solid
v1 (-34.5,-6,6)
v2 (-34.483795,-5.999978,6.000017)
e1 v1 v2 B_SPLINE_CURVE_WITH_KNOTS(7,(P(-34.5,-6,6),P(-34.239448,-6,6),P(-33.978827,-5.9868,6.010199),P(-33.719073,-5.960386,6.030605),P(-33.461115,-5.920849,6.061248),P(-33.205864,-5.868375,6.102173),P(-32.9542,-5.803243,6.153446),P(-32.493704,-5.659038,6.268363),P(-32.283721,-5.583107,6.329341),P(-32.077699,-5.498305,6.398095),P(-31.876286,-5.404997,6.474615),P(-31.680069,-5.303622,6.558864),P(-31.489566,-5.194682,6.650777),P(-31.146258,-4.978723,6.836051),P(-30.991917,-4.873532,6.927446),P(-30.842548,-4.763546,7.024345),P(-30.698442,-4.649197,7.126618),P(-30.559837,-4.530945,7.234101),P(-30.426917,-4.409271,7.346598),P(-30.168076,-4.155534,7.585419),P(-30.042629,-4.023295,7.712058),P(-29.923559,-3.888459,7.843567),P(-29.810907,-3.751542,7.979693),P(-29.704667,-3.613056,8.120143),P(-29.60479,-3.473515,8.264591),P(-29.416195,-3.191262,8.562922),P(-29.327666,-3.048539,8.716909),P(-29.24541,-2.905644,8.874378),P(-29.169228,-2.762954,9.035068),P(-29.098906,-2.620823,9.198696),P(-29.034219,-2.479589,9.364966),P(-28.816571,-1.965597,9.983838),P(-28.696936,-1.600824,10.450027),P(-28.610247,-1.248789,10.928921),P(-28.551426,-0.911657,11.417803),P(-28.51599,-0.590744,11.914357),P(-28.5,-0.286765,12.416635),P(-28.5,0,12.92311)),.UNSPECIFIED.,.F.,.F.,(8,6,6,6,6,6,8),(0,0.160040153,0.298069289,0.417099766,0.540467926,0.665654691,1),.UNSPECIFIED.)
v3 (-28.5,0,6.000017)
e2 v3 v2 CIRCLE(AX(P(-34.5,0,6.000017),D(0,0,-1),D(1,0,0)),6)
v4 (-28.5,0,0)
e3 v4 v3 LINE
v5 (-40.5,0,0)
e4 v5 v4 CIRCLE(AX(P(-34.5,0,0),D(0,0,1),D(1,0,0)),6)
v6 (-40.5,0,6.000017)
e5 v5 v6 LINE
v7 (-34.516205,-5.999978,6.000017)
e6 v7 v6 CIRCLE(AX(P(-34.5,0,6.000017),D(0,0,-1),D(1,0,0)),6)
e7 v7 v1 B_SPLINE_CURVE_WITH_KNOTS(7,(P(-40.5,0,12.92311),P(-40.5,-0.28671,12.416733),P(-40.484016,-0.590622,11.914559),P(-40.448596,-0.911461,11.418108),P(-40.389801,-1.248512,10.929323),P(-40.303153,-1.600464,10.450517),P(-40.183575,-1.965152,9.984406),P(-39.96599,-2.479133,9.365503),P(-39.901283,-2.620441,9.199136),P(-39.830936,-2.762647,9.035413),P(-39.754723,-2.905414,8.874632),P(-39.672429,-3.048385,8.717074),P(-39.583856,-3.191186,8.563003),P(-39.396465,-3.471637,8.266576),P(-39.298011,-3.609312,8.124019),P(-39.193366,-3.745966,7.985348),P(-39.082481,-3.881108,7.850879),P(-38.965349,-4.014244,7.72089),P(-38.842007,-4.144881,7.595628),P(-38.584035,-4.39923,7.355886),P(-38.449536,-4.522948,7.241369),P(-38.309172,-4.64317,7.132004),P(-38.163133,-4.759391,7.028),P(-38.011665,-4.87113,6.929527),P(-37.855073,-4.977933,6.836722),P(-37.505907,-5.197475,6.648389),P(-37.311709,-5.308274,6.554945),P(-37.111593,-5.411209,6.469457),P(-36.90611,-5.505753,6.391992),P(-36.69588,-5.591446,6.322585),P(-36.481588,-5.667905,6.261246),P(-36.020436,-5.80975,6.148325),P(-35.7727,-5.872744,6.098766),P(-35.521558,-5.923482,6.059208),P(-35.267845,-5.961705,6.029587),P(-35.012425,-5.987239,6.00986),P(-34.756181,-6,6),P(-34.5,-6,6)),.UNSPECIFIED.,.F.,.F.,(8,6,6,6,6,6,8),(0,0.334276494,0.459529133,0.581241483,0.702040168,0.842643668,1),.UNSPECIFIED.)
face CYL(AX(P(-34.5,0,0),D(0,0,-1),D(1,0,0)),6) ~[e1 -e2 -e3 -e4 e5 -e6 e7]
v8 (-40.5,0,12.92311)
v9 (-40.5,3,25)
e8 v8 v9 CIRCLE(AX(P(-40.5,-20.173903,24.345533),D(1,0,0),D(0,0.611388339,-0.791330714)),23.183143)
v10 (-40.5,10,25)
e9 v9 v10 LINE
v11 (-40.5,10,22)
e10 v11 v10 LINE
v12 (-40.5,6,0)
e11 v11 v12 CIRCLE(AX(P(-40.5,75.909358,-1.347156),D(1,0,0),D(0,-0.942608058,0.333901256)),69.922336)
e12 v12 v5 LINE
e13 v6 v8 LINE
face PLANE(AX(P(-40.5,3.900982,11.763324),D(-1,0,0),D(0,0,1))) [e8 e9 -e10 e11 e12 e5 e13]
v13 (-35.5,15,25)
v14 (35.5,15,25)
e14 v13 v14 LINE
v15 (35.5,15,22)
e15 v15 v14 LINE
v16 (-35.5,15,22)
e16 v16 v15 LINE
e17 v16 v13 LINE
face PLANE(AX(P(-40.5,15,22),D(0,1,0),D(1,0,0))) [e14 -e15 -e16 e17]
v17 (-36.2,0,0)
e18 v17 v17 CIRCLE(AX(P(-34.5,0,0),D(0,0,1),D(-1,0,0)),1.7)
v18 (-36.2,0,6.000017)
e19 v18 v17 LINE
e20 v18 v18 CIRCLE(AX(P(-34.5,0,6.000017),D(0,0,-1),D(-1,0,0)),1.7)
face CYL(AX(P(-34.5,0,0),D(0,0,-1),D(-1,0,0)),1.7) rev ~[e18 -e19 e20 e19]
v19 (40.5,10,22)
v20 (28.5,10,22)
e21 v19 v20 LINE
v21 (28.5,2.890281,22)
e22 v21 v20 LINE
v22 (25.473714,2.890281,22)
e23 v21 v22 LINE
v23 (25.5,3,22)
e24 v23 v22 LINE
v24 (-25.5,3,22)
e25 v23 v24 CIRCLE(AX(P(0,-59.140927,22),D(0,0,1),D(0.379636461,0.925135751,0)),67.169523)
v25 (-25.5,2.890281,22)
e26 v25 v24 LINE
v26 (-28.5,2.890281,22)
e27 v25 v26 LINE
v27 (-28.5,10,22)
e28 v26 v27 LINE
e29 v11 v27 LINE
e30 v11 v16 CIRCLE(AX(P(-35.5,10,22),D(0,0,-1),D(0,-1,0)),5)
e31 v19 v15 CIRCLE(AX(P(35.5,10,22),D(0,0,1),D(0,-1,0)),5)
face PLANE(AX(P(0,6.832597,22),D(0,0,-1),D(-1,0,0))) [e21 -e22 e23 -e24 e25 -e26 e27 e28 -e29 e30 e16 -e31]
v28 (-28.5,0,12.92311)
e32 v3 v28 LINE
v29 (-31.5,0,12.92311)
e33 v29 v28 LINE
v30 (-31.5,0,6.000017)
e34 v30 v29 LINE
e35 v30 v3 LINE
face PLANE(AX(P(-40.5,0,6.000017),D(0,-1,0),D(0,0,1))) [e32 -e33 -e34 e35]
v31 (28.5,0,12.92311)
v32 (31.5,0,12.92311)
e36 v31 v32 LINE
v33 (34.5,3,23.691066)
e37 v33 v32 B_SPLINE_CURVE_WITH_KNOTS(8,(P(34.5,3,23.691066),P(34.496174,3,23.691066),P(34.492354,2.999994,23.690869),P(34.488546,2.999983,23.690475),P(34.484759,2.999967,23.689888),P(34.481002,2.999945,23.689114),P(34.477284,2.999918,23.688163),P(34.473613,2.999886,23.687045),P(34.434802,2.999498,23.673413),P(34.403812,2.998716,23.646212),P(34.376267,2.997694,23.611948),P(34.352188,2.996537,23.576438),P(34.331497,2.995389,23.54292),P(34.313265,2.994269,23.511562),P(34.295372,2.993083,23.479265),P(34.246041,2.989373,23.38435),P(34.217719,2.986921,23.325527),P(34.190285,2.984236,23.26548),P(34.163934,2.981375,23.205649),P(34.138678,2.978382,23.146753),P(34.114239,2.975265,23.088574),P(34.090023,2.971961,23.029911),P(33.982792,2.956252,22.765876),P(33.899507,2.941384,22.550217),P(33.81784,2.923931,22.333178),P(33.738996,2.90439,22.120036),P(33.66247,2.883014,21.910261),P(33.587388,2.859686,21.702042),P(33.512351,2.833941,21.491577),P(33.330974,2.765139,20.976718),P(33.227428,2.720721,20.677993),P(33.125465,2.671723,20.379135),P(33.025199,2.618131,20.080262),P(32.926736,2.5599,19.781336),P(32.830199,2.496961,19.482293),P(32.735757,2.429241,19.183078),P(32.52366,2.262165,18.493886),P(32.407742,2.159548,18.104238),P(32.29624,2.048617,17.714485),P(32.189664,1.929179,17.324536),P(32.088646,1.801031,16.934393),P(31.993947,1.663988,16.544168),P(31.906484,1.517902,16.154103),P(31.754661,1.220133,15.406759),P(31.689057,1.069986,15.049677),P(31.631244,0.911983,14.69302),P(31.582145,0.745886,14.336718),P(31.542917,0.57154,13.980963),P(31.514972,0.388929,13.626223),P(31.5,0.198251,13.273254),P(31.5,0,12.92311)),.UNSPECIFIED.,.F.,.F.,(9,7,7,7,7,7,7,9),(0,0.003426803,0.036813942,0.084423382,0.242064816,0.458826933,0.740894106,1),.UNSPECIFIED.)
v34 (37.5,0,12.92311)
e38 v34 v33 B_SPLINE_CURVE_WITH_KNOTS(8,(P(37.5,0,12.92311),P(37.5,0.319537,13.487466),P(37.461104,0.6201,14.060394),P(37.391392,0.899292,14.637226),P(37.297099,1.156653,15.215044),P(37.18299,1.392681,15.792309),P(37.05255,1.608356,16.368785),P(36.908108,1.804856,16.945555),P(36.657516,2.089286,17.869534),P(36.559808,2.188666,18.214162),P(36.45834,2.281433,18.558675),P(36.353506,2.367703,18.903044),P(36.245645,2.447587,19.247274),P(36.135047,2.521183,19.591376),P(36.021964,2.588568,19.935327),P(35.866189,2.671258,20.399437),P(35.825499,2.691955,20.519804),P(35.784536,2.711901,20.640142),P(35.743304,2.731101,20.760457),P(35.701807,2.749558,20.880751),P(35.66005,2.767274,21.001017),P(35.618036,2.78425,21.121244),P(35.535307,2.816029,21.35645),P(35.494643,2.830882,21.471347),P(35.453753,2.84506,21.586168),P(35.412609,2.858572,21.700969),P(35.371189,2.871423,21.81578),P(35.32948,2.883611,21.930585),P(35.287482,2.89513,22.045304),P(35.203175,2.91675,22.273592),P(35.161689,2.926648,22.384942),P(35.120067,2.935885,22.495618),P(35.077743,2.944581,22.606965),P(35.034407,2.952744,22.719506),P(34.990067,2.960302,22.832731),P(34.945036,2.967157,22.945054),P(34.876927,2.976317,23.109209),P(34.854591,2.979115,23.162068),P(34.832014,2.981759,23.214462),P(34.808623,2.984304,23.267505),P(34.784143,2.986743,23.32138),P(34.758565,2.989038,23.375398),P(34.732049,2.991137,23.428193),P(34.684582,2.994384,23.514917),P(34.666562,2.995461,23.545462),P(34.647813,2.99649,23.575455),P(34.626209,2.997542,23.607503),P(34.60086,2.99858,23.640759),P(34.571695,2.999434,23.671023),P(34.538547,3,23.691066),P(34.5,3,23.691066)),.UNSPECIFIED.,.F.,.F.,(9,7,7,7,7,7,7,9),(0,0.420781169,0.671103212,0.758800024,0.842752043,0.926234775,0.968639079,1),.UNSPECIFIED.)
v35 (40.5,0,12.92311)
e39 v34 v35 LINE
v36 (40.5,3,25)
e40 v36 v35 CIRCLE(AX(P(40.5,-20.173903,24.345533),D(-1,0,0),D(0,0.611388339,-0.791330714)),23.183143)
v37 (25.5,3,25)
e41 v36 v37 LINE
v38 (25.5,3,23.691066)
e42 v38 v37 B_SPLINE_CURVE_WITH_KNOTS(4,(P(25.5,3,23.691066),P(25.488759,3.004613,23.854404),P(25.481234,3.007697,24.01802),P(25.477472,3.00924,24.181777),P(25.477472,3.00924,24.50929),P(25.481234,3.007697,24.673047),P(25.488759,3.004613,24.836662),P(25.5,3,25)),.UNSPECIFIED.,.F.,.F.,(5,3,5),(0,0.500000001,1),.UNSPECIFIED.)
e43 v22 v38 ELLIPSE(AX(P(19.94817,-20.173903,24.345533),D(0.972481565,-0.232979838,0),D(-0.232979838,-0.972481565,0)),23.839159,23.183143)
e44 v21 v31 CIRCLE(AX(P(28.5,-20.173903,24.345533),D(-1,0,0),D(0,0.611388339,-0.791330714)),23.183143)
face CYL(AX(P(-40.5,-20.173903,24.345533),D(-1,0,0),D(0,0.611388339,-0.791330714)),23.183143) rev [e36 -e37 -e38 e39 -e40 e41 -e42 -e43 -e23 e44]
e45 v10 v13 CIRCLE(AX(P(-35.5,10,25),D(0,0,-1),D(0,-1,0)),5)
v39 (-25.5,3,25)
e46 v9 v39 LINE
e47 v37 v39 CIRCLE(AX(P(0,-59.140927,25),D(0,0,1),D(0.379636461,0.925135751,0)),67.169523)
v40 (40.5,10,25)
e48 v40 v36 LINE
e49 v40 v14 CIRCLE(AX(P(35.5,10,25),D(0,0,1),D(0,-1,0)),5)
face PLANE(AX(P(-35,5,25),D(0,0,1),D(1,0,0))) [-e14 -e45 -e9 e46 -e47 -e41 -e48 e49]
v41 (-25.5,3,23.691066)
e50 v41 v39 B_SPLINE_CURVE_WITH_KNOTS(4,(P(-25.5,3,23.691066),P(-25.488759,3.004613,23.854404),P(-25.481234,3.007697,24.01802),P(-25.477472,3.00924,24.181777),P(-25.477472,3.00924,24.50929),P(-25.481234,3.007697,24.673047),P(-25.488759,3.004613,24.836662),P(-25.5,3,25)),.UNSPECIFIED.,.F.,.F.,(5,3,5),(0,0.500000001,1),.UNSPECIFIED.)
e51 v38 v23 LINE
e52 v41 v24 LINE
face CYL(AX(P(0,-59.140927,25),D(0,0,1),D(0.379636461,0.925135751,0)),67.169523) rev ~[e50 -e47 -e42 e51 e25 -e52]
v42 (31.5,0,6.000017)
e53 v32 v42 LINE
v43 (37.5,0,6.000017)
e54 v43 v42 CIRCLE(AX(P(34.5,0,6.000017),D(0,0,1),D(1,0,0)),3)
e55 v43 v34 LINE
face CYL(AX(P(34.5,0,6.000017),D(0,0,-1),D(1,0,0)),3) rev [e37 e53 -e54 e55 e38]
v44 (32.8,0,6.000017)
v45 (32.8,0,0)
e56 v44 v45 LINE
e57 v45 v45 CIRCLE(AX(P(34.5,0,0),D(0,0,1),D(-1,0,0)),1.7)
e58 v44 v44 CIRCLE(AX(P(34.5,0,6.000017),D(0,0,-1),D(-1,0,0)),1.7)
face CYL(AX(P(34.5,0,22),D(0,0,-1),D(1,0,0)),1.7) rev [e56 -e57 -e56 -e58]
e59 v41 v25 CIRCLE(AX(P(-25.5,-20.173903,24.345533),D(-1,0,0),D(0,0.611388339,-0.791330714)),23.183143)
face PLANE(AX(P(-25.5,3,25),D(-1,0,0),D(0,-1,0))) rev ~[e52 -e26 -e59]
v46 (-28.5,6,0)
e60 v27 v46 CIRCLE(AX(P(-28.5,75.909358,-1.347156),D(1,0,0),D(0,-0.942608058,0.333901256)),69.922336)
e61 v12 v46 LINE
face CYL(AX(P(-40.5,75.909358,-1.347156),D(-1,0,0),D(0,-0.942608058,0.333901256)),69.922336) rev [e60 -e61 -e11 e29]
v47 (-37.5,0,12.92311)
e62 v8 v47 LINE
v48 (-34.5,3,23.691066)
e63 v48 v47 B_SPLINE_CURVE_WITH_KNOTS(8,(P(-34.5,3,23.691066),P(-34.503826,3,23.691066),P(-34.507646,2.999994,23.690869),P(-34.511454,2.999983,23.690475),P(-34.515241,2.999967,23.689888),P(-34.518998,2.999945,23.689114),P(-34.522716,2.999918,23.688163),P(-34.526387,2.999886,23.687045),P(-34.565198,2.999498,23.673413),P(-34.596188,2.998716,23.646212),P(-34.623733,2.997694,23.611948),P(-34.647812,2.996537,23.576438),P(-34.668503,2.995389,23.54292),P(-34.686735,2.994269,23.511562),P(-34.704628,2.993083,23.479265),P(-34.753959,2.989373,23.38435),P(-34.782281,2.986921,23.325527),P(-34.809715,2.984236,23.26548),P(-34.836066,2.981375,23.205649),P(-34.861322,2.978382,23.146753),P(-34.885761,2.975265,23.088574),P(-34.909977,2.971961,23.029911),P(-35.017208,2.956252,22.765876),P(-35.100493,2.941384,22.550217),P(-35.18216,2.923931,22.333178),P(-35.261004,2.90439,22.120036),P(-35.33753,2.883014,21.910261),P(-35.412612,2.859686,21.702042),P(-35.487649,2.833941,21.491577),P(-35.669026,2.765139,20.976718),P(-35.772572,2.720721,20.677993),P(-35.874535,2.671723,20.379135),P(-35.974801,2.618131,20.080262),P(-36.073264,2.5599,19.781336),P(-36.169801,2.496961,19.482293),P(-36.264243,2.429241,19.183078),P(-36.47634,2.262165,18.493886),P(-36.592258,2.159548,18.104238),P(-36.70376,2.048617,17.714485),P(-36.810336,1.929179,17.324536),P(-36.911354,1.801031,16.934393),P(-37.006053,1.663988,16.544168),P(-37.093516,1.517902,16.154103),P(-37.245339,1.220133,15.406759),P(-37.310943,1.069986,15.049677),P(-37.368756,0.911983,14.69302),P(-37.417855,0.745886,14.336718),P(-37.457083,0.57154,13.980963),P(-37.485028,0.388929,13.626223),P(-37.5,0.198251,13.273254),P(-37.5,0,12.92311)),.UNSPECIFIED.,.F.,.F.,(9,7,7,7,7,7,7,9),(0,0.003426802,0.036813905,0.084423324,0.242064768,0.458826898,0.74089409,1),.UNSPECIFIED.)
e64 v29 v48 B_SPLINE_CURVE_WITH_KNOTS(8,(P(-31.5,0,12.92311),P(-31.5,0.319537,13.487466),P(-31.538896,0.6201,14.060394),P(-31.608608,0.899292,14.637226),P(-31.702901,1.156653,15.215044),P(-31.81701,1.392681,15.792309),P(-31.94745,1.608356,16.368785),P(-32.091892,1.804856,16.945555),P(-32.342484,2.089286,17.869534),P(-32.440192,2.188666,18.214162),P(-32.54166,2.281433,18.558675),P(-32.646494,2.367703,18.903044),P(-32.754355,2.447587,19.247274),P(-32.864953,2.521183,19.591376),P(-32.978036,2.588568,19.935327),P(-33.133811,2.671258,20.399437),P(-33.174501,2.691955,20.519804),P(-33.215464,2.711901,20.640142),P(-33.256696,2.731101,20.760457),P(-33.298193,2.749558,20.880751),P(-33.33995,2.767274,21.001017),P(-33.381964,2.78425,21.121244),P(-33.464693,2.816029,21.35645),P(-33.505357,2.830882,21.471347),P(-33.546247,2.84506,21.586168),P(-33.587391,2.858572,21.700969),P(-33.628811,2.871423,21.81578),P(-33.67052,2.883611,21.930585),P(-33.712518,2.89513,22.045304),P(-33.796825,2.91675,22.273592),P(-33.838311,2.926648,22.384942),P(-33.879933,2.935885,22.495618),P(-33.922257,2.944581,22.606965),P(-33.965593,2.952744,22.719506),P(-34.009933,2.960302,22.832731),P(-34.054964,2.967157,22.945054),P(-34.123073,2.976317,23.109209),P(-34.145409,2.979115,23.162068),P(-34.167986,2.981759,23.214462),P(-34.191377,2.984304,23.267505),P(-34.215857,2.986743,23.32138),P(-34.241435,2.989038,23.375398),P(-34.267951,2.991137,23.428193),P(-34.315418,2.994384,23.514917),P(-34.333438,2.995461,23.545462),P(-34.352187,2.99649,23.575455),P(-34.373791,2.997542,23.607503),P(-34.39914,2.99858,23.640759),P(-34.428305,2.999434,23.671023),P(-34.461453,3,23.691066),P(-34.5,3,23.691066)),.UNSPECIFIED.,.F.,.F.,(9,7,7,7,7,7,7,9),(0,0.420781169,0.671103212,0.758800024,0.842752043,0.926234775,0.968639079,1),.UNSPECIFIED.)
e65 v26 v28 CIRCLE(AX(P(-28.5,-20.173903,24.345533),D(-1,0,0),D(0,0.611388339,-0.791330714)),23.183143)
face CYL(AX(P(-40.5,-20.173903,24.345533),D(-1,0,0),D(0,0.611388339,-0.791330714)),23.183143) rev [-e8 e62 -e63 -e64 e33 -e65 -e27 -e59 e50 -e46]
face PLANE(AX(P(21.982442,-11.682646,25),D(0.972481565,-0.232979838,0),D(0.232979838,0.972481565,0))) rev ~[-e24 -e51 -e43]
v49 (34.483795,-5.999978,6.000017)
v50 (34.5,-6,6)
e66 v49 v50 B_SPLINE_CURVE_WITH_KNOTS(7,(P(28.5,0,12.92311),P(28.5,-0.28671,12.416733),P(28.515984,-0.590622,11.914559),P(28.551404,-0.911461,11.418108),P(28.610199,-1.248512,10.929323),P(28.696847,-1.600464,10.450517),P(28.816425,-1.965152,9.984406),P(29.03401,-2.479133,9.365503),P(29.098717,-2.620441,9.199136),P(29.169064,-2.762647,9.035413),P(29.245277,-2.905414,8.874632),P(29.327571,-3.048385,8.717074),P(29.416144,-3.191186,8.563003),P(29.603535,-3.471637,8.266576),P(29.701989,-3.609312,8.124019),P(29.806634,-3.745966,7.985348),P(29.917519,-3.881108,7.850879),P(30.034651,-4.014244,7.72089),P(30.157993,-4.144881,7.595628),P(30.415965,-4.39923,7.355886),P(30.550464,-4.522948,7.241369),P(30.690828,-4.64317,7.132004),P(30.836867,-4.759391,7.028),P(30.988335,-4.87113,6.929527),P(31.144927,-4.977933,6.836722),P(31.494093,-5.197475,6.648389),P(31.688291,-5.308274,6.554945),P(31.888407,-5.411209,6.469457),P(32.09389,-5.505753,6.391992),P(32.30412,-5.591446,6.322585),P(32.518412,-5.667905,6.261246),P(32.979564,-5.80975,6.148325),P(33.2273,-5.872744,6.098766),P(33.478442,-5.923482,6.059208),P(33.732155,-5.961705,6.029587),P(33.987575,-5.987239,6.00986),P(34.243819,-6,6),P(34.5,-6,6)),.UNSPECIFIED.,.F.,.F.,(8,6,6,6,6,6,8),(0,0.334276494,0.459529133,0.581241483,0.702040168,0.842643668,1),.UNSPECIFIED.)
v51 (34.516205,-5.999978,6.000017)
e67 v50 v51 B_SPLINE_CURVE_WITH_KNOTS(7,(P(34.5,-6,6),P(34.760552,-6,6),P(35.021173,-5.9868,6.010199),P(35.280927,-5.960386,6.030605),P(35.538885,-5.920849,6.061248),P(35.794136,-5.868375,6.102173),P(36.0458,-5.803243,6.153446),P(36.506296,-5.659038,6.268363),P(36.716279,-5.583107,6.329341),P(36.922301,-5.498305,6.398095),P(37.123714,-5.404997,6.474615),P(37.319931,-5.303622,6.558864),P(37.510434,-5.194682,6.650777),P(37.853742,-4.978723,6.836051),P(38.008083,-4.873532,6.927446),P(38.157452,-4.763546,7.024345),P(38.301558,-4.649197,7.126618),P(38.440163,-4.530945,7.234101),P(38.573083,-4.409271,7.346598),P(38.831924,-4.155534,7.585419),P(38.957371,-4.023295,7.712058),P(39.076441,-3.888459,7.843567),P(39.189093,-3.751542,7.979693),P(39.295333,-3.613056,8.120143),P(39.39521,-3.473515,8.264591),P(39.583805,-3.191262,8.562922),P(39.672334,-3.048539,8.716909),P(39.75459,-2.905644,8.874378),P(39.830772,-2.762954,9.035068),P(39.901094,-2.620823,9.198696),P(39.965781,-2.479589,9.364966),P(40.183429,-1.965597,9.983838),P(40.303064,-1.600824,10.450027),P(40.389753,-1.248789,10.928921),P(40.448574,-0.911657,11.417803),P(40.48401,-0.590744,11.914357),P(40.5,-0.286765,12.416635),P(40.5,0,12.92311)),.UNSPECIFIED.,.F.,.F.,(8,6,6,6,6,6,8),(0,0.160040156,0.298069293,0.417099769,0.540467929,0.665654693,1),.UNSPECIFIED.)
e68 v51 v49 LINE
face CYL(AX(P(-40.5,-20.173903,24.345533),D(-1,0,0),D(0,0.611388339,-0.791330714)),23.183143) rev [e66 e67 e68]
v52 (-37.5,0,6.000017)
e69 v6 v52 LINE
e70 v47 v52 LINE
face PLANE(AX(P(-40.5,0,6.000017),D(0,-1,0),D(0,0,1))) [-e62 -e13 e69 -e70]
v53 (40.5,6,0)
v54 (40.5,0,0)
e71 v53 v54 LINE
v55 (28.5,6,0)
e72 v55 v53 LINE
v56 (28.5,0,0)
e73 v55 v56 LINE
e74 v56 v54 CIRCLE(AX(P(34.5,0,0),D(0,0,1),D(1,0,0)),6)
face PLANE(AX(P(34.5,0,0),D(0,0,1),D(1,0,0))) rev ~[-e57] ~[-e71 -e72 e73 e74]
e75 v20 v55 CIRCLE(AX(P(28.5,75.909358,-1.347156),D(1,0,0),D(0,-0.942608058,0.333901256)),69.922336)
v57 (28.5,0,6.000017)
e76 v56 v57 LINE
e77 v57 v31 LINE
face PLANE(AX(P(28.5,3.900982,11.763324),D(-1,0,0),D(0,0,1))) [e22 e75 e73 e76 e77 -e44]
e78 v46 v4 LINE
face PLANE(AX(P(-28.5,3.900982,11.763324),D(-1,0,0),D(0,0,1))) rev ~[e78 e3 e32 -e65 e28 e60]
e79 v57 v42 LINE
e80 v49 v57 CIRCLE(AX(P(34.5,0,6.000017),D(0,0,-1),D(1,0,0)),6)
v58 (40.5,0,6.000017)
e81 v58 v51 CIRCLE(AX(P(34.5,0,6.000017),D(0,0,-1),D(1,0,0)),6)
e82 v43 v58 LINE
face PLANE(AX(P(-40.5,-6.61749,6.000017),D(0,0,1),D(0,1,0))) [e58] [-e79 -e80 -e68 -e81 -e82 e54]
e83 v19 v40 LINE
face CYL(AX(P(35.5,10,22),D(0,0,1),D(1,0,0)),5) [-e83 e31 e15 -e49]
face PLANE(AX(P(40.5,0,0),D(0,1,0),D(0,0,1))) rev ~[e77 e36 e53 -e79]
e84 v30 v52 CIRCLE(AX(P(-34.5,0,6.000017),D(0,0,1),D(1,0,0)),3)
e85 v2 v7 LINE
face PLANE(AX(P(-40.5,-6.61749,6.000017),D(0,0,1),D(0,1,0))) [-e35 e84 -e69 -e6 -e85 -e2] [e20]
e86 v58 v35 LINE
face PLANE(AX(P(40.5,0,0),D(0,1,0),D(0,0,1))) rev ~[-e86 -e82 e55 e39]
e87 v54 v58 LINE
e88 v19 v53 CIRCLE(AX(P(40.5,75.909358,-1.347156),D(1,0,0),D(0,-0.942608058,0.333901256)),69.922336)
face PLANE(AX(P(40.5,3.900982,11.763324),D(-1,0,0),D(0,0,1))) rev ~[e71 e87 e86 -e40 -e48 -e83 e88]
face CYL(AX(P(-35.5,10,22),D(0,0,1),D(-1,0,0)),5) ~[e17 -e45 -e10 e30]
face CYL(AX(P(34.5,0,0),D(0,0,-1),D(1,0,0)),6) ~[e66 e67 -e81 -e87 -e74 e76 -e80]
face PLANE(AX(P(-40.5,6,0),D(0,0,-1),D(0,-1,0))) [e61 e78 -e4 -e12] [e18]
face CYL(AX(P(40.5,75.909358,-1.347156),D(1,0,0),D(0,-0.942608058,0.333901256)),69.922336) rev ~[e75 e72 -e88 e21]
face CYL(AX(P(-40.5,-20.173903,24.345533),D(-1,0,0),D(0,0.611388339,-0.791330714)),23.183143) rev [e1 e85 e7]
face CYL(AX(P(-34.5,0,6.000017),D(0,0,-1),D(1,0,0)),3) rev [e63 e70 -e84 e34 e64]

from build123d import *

# Parameters (mm, degrees)
IZIM1_R                       = 6
IZIM1_R_2                     = 1.7
Y_KSEKLIK_EKSTR_ZYON1_DEPTH   = 22
Y_KSEKLIK_EKSTR_ZYON1_2_DEPTH = 22
IZIM2_R                       = 1.7
Y_KSEKLIK_EKSTR_ZYON2_DEPTH   = 3
RADYUS2_R                     = 5
IZIM4_R                       = 1.6
KES_EKSTR_ZYON1_DEPTH         = 10
Y_KSEKLIK_EKSTR_ZYON5_DEPTH   = 12
Y_KSEKLIK_EKSTR_ZYON6_DEPTH   = 12
KES_EKSTR_ZYON2_DEPTH         = 97
IZIM10_W                      = 6.92309327
IZIM10_H                      = 6.61748972
KES_EKSTR_ZYON3_DEPTH         = 97
IZIM11_R                      = 3
KES_EKSTR_ZYON4_DEPTH         = 97
IZIM12_R                      = 1.6
Y_KSEKLIK_EKSTR_ZYON8_DEPTH   = 10
IZIM13_R                      = 1.7
KES_EKSTR_ZYON5_DEPTH         = 10
KES_EKSTR_ZYON6_DEPTH         = 10


with BuildPart() as part:
    # Çizim1 → Yükseklik-Ekstrüzyon1 (new body)
    with BuildSketch(Plane.XY):
        with Locations((34.5, 0)):
            Circle(IZIM1_R)
        with Locations((34.5, 0)):
            Circle(IZIM1_R_2, mode=Mode.SUBTRACT)
    extrude(amount=Y_KSEKLIK_EKSTR_ZYON1_DEPTH)



with BuildPart() as body_2:
    # Çizim1 → Y_kseklik-Ekstr_zyon1 2 (new body)
    with BuildSketch(Plane.XY):
        with Locations((-34.5, 0)):
            Circle(IZIM1_R)
        with Locations((-34.5, 0)):
            Circle(IZIM1_R_2, mode=Mode.SUBTRACT)
    extrude(amount=Y_KSEKLIK_EKSTR_ZYON1_2_DEPTH)


with BuildPart() as part_1:
    add(part.part)

    add(body_2.part)  # Yükseklik-Ekstrüzyon2 merges body 2
    # Çizim2 → Yükseklik-Ekstrüzyon2 (add)
    with BuildSketch(Plane.XY.offset(22)):
        with BuildLine():
            Line((-40.5, 0), (-40.5, 10))
            Line((-40.5, 10), (-40.5, 15))
            Line((-40.5, 15), (40.5, 15))
            Line((40.5, 15), (40.5, 10))
            Line((40.5, 10), (40.5, 0))
            ThreePointArc((40.5, 0), (37.400947284, -5.252095282), (31.305165048, -5.078683848))
            ThreePointArc((31.305165048, -5.078683848), (23.833029749, -2.135860906), (16.017952, -0.287193122))
            ThreePointArc((16.017952, -0.287193122), (8.530102356, 4.184082865), (0, 6))
            ThreePointArc((0, 6), (-8.530102356, 4.184082865), (-16.017952, -0.287193122))
            ThreePointArc((-16.017952, -0.287193122), (-23.833029749, -2.135860906), (-31.305165048, -5.078683848))
            ThreePointArc((-31.305165048, -5.078683848), (-37.400947284, -5.252095282), (-40.5, 0))
        make_face()
        with Locations((-34.5, 0)):
            Circle(IZIM2_R, mode=Mode.SUBTRACT)
        with Locations((34.5, 0)):
            Circle(IZIM2_R, mode=Mode.SUBTRACT)
    extrude(amount=Y_KSEKLIK_EKSTR_ZYON2_DEPTH)

    # Radyus2
    radyus2_edges = [part_1.edges().sort_by_distance(p)[0] for p in [
        (40.5, 15, 23.5),
        (-40.5, 15, 23.5),
    ]]
    fillet(radyus2_edges, radius=RADYUS2_R)

    # Çizim4 → Kes-Ekstrüzyon1 (cut)
    with BuildSketch(Plane.XY.offset(25)):
        with Locations((-35, 5)):
            Circle(IZIM4_R)
        with Locations((35, 5)):
            Circle(IZIM4_R)
    extrude(amount=-KES_EKSTR_ZYON1_DEPTH, mode=Mode.SUBTRACT)

    # Çizim5 → Yükseklik-Ekstrüzyon5 (add)
    with BuildSketch(Plane.ZY.offset(40.5)):
        with BuildLine():
            Line((0, 6), (0, 0))
            Line((0, 0), (22, 0))
            Line((22, 0), (22, 10))
            ThreePointArc((22, 10), (11.160931836, 7.114874904), (0, 6))
        make_face()
    extrude(amount=-Y_KSEKLIK_EKSTR_ZYON5_DEPTH)

    # Çizim6 → Yükseklik-Ekstrüzyon6 (add)
    with BuildSketch(Plane(origin=(40.5, 0, 0), x_dir=(0, 0, -1), z_dir=(1, 0, 0))):
        with BuildLine():
            Line((-22, 0), (-22, 10))
            ThreePointArc((-22, 10), (-11.160931836, 7.114874904), (0, 6))
            Line((0, 6), (0, 0))
            Line((0, 0), (-22, 0))
        make_face()
    extrude(amount=-Y_KSEKLIK_EKSTR_ZYON6_DEPTH)

    # Çizim9 → Kes-Ekstrüzyon2 (cut)
    with BuildSketch(Plane.ZY.offset(40.5)):
        with BuildLine():
            Line((25, 3), (25, -6.889643691))
            Line((25, -6.889643691), (6, -6))
            ThreePointArc((6, -6), (14.421146183, 0.77758028), (25, 3))
        make_face()
    extrude(amount=-KES_EKSTR_ZYON2_DEPTH, mode=Mode.SUBTRACT)

    # Çizim10 → Kes-Ekstrüzyon3 (cut)
    with BuildSketch(Plane.ZY.offset(40.5)):
        with Locations((9.461563543, -3.30874486)):
            Rectangle(IZIM10_W, IZIM10_H)
    extrude(amount=-KES_EKSTR_ZYON3_DEPTH, mode=Mode.SUBTRACT)

    # Çizim11 → Kes-Ekstrüzyon4 (cut)
    with BuildSketch(Plane.XY.offset(6.000016908)):
        with Locations((-34.5, 0)):
            Circle(IZIM11_R)
        with Locations((34.5, 0)):
            Circle(IZIM11_R)
    extrude(amount=KES_EKSTR_ZYON4_DEPTH, mode=Mode.SUBTRACT)

    # Çizim12 → Yükseklik-Ekstrüzyon8 (add)
    with BuildSketch(Plane.XY.offset(25)):
        with Locations((-35, 5)):
            Circle(IZIM12_R)
        with Locations((35, 5)):
            Circle(IZIM12_R)
    extrude(amount=-Y_KSEKLIK_EKSTR_ZYON8_DEPTH)

    # Çizim13 → Kes-Ekstrüzyon5 (cut)
    with BuildSketch(Plane(origin=(0, 0, 0), x_dir=(-1, 0, 0), z_dir=(0, 0, -1))):
        with Locations((34.5, 0)):
            Circle(IZIM13_R)
        with Locations((-34.5, 0)):
            Circle(IZIM13_R)
    extrude(amount=-KES_EKSTR_ZYON5_DEPTH, mode=Mode.SUBTRACT)

    # Çizim15 → Kes-Ekstrüzyon6 (cut)
    with BuildSketch(Plane.XY.offset(25)):
        with BuildLine():
            Line((-25.5, 3), (-25.5, -6.328988838))
            Line((-25.5, -6.328988838), (21.982441761, -11.682646241))
            Line((21.982441761, -11.682646241), (25.5, 3))
            ThreePointArc((25.5, 3), (0, 8.028595904), (-25.5, 3))
        make_face()
    extrude(amount=-KES_EKSTR_ZYON6_DEPTH, mode=Mode.SUBTRACT)


solid = part_1.part
